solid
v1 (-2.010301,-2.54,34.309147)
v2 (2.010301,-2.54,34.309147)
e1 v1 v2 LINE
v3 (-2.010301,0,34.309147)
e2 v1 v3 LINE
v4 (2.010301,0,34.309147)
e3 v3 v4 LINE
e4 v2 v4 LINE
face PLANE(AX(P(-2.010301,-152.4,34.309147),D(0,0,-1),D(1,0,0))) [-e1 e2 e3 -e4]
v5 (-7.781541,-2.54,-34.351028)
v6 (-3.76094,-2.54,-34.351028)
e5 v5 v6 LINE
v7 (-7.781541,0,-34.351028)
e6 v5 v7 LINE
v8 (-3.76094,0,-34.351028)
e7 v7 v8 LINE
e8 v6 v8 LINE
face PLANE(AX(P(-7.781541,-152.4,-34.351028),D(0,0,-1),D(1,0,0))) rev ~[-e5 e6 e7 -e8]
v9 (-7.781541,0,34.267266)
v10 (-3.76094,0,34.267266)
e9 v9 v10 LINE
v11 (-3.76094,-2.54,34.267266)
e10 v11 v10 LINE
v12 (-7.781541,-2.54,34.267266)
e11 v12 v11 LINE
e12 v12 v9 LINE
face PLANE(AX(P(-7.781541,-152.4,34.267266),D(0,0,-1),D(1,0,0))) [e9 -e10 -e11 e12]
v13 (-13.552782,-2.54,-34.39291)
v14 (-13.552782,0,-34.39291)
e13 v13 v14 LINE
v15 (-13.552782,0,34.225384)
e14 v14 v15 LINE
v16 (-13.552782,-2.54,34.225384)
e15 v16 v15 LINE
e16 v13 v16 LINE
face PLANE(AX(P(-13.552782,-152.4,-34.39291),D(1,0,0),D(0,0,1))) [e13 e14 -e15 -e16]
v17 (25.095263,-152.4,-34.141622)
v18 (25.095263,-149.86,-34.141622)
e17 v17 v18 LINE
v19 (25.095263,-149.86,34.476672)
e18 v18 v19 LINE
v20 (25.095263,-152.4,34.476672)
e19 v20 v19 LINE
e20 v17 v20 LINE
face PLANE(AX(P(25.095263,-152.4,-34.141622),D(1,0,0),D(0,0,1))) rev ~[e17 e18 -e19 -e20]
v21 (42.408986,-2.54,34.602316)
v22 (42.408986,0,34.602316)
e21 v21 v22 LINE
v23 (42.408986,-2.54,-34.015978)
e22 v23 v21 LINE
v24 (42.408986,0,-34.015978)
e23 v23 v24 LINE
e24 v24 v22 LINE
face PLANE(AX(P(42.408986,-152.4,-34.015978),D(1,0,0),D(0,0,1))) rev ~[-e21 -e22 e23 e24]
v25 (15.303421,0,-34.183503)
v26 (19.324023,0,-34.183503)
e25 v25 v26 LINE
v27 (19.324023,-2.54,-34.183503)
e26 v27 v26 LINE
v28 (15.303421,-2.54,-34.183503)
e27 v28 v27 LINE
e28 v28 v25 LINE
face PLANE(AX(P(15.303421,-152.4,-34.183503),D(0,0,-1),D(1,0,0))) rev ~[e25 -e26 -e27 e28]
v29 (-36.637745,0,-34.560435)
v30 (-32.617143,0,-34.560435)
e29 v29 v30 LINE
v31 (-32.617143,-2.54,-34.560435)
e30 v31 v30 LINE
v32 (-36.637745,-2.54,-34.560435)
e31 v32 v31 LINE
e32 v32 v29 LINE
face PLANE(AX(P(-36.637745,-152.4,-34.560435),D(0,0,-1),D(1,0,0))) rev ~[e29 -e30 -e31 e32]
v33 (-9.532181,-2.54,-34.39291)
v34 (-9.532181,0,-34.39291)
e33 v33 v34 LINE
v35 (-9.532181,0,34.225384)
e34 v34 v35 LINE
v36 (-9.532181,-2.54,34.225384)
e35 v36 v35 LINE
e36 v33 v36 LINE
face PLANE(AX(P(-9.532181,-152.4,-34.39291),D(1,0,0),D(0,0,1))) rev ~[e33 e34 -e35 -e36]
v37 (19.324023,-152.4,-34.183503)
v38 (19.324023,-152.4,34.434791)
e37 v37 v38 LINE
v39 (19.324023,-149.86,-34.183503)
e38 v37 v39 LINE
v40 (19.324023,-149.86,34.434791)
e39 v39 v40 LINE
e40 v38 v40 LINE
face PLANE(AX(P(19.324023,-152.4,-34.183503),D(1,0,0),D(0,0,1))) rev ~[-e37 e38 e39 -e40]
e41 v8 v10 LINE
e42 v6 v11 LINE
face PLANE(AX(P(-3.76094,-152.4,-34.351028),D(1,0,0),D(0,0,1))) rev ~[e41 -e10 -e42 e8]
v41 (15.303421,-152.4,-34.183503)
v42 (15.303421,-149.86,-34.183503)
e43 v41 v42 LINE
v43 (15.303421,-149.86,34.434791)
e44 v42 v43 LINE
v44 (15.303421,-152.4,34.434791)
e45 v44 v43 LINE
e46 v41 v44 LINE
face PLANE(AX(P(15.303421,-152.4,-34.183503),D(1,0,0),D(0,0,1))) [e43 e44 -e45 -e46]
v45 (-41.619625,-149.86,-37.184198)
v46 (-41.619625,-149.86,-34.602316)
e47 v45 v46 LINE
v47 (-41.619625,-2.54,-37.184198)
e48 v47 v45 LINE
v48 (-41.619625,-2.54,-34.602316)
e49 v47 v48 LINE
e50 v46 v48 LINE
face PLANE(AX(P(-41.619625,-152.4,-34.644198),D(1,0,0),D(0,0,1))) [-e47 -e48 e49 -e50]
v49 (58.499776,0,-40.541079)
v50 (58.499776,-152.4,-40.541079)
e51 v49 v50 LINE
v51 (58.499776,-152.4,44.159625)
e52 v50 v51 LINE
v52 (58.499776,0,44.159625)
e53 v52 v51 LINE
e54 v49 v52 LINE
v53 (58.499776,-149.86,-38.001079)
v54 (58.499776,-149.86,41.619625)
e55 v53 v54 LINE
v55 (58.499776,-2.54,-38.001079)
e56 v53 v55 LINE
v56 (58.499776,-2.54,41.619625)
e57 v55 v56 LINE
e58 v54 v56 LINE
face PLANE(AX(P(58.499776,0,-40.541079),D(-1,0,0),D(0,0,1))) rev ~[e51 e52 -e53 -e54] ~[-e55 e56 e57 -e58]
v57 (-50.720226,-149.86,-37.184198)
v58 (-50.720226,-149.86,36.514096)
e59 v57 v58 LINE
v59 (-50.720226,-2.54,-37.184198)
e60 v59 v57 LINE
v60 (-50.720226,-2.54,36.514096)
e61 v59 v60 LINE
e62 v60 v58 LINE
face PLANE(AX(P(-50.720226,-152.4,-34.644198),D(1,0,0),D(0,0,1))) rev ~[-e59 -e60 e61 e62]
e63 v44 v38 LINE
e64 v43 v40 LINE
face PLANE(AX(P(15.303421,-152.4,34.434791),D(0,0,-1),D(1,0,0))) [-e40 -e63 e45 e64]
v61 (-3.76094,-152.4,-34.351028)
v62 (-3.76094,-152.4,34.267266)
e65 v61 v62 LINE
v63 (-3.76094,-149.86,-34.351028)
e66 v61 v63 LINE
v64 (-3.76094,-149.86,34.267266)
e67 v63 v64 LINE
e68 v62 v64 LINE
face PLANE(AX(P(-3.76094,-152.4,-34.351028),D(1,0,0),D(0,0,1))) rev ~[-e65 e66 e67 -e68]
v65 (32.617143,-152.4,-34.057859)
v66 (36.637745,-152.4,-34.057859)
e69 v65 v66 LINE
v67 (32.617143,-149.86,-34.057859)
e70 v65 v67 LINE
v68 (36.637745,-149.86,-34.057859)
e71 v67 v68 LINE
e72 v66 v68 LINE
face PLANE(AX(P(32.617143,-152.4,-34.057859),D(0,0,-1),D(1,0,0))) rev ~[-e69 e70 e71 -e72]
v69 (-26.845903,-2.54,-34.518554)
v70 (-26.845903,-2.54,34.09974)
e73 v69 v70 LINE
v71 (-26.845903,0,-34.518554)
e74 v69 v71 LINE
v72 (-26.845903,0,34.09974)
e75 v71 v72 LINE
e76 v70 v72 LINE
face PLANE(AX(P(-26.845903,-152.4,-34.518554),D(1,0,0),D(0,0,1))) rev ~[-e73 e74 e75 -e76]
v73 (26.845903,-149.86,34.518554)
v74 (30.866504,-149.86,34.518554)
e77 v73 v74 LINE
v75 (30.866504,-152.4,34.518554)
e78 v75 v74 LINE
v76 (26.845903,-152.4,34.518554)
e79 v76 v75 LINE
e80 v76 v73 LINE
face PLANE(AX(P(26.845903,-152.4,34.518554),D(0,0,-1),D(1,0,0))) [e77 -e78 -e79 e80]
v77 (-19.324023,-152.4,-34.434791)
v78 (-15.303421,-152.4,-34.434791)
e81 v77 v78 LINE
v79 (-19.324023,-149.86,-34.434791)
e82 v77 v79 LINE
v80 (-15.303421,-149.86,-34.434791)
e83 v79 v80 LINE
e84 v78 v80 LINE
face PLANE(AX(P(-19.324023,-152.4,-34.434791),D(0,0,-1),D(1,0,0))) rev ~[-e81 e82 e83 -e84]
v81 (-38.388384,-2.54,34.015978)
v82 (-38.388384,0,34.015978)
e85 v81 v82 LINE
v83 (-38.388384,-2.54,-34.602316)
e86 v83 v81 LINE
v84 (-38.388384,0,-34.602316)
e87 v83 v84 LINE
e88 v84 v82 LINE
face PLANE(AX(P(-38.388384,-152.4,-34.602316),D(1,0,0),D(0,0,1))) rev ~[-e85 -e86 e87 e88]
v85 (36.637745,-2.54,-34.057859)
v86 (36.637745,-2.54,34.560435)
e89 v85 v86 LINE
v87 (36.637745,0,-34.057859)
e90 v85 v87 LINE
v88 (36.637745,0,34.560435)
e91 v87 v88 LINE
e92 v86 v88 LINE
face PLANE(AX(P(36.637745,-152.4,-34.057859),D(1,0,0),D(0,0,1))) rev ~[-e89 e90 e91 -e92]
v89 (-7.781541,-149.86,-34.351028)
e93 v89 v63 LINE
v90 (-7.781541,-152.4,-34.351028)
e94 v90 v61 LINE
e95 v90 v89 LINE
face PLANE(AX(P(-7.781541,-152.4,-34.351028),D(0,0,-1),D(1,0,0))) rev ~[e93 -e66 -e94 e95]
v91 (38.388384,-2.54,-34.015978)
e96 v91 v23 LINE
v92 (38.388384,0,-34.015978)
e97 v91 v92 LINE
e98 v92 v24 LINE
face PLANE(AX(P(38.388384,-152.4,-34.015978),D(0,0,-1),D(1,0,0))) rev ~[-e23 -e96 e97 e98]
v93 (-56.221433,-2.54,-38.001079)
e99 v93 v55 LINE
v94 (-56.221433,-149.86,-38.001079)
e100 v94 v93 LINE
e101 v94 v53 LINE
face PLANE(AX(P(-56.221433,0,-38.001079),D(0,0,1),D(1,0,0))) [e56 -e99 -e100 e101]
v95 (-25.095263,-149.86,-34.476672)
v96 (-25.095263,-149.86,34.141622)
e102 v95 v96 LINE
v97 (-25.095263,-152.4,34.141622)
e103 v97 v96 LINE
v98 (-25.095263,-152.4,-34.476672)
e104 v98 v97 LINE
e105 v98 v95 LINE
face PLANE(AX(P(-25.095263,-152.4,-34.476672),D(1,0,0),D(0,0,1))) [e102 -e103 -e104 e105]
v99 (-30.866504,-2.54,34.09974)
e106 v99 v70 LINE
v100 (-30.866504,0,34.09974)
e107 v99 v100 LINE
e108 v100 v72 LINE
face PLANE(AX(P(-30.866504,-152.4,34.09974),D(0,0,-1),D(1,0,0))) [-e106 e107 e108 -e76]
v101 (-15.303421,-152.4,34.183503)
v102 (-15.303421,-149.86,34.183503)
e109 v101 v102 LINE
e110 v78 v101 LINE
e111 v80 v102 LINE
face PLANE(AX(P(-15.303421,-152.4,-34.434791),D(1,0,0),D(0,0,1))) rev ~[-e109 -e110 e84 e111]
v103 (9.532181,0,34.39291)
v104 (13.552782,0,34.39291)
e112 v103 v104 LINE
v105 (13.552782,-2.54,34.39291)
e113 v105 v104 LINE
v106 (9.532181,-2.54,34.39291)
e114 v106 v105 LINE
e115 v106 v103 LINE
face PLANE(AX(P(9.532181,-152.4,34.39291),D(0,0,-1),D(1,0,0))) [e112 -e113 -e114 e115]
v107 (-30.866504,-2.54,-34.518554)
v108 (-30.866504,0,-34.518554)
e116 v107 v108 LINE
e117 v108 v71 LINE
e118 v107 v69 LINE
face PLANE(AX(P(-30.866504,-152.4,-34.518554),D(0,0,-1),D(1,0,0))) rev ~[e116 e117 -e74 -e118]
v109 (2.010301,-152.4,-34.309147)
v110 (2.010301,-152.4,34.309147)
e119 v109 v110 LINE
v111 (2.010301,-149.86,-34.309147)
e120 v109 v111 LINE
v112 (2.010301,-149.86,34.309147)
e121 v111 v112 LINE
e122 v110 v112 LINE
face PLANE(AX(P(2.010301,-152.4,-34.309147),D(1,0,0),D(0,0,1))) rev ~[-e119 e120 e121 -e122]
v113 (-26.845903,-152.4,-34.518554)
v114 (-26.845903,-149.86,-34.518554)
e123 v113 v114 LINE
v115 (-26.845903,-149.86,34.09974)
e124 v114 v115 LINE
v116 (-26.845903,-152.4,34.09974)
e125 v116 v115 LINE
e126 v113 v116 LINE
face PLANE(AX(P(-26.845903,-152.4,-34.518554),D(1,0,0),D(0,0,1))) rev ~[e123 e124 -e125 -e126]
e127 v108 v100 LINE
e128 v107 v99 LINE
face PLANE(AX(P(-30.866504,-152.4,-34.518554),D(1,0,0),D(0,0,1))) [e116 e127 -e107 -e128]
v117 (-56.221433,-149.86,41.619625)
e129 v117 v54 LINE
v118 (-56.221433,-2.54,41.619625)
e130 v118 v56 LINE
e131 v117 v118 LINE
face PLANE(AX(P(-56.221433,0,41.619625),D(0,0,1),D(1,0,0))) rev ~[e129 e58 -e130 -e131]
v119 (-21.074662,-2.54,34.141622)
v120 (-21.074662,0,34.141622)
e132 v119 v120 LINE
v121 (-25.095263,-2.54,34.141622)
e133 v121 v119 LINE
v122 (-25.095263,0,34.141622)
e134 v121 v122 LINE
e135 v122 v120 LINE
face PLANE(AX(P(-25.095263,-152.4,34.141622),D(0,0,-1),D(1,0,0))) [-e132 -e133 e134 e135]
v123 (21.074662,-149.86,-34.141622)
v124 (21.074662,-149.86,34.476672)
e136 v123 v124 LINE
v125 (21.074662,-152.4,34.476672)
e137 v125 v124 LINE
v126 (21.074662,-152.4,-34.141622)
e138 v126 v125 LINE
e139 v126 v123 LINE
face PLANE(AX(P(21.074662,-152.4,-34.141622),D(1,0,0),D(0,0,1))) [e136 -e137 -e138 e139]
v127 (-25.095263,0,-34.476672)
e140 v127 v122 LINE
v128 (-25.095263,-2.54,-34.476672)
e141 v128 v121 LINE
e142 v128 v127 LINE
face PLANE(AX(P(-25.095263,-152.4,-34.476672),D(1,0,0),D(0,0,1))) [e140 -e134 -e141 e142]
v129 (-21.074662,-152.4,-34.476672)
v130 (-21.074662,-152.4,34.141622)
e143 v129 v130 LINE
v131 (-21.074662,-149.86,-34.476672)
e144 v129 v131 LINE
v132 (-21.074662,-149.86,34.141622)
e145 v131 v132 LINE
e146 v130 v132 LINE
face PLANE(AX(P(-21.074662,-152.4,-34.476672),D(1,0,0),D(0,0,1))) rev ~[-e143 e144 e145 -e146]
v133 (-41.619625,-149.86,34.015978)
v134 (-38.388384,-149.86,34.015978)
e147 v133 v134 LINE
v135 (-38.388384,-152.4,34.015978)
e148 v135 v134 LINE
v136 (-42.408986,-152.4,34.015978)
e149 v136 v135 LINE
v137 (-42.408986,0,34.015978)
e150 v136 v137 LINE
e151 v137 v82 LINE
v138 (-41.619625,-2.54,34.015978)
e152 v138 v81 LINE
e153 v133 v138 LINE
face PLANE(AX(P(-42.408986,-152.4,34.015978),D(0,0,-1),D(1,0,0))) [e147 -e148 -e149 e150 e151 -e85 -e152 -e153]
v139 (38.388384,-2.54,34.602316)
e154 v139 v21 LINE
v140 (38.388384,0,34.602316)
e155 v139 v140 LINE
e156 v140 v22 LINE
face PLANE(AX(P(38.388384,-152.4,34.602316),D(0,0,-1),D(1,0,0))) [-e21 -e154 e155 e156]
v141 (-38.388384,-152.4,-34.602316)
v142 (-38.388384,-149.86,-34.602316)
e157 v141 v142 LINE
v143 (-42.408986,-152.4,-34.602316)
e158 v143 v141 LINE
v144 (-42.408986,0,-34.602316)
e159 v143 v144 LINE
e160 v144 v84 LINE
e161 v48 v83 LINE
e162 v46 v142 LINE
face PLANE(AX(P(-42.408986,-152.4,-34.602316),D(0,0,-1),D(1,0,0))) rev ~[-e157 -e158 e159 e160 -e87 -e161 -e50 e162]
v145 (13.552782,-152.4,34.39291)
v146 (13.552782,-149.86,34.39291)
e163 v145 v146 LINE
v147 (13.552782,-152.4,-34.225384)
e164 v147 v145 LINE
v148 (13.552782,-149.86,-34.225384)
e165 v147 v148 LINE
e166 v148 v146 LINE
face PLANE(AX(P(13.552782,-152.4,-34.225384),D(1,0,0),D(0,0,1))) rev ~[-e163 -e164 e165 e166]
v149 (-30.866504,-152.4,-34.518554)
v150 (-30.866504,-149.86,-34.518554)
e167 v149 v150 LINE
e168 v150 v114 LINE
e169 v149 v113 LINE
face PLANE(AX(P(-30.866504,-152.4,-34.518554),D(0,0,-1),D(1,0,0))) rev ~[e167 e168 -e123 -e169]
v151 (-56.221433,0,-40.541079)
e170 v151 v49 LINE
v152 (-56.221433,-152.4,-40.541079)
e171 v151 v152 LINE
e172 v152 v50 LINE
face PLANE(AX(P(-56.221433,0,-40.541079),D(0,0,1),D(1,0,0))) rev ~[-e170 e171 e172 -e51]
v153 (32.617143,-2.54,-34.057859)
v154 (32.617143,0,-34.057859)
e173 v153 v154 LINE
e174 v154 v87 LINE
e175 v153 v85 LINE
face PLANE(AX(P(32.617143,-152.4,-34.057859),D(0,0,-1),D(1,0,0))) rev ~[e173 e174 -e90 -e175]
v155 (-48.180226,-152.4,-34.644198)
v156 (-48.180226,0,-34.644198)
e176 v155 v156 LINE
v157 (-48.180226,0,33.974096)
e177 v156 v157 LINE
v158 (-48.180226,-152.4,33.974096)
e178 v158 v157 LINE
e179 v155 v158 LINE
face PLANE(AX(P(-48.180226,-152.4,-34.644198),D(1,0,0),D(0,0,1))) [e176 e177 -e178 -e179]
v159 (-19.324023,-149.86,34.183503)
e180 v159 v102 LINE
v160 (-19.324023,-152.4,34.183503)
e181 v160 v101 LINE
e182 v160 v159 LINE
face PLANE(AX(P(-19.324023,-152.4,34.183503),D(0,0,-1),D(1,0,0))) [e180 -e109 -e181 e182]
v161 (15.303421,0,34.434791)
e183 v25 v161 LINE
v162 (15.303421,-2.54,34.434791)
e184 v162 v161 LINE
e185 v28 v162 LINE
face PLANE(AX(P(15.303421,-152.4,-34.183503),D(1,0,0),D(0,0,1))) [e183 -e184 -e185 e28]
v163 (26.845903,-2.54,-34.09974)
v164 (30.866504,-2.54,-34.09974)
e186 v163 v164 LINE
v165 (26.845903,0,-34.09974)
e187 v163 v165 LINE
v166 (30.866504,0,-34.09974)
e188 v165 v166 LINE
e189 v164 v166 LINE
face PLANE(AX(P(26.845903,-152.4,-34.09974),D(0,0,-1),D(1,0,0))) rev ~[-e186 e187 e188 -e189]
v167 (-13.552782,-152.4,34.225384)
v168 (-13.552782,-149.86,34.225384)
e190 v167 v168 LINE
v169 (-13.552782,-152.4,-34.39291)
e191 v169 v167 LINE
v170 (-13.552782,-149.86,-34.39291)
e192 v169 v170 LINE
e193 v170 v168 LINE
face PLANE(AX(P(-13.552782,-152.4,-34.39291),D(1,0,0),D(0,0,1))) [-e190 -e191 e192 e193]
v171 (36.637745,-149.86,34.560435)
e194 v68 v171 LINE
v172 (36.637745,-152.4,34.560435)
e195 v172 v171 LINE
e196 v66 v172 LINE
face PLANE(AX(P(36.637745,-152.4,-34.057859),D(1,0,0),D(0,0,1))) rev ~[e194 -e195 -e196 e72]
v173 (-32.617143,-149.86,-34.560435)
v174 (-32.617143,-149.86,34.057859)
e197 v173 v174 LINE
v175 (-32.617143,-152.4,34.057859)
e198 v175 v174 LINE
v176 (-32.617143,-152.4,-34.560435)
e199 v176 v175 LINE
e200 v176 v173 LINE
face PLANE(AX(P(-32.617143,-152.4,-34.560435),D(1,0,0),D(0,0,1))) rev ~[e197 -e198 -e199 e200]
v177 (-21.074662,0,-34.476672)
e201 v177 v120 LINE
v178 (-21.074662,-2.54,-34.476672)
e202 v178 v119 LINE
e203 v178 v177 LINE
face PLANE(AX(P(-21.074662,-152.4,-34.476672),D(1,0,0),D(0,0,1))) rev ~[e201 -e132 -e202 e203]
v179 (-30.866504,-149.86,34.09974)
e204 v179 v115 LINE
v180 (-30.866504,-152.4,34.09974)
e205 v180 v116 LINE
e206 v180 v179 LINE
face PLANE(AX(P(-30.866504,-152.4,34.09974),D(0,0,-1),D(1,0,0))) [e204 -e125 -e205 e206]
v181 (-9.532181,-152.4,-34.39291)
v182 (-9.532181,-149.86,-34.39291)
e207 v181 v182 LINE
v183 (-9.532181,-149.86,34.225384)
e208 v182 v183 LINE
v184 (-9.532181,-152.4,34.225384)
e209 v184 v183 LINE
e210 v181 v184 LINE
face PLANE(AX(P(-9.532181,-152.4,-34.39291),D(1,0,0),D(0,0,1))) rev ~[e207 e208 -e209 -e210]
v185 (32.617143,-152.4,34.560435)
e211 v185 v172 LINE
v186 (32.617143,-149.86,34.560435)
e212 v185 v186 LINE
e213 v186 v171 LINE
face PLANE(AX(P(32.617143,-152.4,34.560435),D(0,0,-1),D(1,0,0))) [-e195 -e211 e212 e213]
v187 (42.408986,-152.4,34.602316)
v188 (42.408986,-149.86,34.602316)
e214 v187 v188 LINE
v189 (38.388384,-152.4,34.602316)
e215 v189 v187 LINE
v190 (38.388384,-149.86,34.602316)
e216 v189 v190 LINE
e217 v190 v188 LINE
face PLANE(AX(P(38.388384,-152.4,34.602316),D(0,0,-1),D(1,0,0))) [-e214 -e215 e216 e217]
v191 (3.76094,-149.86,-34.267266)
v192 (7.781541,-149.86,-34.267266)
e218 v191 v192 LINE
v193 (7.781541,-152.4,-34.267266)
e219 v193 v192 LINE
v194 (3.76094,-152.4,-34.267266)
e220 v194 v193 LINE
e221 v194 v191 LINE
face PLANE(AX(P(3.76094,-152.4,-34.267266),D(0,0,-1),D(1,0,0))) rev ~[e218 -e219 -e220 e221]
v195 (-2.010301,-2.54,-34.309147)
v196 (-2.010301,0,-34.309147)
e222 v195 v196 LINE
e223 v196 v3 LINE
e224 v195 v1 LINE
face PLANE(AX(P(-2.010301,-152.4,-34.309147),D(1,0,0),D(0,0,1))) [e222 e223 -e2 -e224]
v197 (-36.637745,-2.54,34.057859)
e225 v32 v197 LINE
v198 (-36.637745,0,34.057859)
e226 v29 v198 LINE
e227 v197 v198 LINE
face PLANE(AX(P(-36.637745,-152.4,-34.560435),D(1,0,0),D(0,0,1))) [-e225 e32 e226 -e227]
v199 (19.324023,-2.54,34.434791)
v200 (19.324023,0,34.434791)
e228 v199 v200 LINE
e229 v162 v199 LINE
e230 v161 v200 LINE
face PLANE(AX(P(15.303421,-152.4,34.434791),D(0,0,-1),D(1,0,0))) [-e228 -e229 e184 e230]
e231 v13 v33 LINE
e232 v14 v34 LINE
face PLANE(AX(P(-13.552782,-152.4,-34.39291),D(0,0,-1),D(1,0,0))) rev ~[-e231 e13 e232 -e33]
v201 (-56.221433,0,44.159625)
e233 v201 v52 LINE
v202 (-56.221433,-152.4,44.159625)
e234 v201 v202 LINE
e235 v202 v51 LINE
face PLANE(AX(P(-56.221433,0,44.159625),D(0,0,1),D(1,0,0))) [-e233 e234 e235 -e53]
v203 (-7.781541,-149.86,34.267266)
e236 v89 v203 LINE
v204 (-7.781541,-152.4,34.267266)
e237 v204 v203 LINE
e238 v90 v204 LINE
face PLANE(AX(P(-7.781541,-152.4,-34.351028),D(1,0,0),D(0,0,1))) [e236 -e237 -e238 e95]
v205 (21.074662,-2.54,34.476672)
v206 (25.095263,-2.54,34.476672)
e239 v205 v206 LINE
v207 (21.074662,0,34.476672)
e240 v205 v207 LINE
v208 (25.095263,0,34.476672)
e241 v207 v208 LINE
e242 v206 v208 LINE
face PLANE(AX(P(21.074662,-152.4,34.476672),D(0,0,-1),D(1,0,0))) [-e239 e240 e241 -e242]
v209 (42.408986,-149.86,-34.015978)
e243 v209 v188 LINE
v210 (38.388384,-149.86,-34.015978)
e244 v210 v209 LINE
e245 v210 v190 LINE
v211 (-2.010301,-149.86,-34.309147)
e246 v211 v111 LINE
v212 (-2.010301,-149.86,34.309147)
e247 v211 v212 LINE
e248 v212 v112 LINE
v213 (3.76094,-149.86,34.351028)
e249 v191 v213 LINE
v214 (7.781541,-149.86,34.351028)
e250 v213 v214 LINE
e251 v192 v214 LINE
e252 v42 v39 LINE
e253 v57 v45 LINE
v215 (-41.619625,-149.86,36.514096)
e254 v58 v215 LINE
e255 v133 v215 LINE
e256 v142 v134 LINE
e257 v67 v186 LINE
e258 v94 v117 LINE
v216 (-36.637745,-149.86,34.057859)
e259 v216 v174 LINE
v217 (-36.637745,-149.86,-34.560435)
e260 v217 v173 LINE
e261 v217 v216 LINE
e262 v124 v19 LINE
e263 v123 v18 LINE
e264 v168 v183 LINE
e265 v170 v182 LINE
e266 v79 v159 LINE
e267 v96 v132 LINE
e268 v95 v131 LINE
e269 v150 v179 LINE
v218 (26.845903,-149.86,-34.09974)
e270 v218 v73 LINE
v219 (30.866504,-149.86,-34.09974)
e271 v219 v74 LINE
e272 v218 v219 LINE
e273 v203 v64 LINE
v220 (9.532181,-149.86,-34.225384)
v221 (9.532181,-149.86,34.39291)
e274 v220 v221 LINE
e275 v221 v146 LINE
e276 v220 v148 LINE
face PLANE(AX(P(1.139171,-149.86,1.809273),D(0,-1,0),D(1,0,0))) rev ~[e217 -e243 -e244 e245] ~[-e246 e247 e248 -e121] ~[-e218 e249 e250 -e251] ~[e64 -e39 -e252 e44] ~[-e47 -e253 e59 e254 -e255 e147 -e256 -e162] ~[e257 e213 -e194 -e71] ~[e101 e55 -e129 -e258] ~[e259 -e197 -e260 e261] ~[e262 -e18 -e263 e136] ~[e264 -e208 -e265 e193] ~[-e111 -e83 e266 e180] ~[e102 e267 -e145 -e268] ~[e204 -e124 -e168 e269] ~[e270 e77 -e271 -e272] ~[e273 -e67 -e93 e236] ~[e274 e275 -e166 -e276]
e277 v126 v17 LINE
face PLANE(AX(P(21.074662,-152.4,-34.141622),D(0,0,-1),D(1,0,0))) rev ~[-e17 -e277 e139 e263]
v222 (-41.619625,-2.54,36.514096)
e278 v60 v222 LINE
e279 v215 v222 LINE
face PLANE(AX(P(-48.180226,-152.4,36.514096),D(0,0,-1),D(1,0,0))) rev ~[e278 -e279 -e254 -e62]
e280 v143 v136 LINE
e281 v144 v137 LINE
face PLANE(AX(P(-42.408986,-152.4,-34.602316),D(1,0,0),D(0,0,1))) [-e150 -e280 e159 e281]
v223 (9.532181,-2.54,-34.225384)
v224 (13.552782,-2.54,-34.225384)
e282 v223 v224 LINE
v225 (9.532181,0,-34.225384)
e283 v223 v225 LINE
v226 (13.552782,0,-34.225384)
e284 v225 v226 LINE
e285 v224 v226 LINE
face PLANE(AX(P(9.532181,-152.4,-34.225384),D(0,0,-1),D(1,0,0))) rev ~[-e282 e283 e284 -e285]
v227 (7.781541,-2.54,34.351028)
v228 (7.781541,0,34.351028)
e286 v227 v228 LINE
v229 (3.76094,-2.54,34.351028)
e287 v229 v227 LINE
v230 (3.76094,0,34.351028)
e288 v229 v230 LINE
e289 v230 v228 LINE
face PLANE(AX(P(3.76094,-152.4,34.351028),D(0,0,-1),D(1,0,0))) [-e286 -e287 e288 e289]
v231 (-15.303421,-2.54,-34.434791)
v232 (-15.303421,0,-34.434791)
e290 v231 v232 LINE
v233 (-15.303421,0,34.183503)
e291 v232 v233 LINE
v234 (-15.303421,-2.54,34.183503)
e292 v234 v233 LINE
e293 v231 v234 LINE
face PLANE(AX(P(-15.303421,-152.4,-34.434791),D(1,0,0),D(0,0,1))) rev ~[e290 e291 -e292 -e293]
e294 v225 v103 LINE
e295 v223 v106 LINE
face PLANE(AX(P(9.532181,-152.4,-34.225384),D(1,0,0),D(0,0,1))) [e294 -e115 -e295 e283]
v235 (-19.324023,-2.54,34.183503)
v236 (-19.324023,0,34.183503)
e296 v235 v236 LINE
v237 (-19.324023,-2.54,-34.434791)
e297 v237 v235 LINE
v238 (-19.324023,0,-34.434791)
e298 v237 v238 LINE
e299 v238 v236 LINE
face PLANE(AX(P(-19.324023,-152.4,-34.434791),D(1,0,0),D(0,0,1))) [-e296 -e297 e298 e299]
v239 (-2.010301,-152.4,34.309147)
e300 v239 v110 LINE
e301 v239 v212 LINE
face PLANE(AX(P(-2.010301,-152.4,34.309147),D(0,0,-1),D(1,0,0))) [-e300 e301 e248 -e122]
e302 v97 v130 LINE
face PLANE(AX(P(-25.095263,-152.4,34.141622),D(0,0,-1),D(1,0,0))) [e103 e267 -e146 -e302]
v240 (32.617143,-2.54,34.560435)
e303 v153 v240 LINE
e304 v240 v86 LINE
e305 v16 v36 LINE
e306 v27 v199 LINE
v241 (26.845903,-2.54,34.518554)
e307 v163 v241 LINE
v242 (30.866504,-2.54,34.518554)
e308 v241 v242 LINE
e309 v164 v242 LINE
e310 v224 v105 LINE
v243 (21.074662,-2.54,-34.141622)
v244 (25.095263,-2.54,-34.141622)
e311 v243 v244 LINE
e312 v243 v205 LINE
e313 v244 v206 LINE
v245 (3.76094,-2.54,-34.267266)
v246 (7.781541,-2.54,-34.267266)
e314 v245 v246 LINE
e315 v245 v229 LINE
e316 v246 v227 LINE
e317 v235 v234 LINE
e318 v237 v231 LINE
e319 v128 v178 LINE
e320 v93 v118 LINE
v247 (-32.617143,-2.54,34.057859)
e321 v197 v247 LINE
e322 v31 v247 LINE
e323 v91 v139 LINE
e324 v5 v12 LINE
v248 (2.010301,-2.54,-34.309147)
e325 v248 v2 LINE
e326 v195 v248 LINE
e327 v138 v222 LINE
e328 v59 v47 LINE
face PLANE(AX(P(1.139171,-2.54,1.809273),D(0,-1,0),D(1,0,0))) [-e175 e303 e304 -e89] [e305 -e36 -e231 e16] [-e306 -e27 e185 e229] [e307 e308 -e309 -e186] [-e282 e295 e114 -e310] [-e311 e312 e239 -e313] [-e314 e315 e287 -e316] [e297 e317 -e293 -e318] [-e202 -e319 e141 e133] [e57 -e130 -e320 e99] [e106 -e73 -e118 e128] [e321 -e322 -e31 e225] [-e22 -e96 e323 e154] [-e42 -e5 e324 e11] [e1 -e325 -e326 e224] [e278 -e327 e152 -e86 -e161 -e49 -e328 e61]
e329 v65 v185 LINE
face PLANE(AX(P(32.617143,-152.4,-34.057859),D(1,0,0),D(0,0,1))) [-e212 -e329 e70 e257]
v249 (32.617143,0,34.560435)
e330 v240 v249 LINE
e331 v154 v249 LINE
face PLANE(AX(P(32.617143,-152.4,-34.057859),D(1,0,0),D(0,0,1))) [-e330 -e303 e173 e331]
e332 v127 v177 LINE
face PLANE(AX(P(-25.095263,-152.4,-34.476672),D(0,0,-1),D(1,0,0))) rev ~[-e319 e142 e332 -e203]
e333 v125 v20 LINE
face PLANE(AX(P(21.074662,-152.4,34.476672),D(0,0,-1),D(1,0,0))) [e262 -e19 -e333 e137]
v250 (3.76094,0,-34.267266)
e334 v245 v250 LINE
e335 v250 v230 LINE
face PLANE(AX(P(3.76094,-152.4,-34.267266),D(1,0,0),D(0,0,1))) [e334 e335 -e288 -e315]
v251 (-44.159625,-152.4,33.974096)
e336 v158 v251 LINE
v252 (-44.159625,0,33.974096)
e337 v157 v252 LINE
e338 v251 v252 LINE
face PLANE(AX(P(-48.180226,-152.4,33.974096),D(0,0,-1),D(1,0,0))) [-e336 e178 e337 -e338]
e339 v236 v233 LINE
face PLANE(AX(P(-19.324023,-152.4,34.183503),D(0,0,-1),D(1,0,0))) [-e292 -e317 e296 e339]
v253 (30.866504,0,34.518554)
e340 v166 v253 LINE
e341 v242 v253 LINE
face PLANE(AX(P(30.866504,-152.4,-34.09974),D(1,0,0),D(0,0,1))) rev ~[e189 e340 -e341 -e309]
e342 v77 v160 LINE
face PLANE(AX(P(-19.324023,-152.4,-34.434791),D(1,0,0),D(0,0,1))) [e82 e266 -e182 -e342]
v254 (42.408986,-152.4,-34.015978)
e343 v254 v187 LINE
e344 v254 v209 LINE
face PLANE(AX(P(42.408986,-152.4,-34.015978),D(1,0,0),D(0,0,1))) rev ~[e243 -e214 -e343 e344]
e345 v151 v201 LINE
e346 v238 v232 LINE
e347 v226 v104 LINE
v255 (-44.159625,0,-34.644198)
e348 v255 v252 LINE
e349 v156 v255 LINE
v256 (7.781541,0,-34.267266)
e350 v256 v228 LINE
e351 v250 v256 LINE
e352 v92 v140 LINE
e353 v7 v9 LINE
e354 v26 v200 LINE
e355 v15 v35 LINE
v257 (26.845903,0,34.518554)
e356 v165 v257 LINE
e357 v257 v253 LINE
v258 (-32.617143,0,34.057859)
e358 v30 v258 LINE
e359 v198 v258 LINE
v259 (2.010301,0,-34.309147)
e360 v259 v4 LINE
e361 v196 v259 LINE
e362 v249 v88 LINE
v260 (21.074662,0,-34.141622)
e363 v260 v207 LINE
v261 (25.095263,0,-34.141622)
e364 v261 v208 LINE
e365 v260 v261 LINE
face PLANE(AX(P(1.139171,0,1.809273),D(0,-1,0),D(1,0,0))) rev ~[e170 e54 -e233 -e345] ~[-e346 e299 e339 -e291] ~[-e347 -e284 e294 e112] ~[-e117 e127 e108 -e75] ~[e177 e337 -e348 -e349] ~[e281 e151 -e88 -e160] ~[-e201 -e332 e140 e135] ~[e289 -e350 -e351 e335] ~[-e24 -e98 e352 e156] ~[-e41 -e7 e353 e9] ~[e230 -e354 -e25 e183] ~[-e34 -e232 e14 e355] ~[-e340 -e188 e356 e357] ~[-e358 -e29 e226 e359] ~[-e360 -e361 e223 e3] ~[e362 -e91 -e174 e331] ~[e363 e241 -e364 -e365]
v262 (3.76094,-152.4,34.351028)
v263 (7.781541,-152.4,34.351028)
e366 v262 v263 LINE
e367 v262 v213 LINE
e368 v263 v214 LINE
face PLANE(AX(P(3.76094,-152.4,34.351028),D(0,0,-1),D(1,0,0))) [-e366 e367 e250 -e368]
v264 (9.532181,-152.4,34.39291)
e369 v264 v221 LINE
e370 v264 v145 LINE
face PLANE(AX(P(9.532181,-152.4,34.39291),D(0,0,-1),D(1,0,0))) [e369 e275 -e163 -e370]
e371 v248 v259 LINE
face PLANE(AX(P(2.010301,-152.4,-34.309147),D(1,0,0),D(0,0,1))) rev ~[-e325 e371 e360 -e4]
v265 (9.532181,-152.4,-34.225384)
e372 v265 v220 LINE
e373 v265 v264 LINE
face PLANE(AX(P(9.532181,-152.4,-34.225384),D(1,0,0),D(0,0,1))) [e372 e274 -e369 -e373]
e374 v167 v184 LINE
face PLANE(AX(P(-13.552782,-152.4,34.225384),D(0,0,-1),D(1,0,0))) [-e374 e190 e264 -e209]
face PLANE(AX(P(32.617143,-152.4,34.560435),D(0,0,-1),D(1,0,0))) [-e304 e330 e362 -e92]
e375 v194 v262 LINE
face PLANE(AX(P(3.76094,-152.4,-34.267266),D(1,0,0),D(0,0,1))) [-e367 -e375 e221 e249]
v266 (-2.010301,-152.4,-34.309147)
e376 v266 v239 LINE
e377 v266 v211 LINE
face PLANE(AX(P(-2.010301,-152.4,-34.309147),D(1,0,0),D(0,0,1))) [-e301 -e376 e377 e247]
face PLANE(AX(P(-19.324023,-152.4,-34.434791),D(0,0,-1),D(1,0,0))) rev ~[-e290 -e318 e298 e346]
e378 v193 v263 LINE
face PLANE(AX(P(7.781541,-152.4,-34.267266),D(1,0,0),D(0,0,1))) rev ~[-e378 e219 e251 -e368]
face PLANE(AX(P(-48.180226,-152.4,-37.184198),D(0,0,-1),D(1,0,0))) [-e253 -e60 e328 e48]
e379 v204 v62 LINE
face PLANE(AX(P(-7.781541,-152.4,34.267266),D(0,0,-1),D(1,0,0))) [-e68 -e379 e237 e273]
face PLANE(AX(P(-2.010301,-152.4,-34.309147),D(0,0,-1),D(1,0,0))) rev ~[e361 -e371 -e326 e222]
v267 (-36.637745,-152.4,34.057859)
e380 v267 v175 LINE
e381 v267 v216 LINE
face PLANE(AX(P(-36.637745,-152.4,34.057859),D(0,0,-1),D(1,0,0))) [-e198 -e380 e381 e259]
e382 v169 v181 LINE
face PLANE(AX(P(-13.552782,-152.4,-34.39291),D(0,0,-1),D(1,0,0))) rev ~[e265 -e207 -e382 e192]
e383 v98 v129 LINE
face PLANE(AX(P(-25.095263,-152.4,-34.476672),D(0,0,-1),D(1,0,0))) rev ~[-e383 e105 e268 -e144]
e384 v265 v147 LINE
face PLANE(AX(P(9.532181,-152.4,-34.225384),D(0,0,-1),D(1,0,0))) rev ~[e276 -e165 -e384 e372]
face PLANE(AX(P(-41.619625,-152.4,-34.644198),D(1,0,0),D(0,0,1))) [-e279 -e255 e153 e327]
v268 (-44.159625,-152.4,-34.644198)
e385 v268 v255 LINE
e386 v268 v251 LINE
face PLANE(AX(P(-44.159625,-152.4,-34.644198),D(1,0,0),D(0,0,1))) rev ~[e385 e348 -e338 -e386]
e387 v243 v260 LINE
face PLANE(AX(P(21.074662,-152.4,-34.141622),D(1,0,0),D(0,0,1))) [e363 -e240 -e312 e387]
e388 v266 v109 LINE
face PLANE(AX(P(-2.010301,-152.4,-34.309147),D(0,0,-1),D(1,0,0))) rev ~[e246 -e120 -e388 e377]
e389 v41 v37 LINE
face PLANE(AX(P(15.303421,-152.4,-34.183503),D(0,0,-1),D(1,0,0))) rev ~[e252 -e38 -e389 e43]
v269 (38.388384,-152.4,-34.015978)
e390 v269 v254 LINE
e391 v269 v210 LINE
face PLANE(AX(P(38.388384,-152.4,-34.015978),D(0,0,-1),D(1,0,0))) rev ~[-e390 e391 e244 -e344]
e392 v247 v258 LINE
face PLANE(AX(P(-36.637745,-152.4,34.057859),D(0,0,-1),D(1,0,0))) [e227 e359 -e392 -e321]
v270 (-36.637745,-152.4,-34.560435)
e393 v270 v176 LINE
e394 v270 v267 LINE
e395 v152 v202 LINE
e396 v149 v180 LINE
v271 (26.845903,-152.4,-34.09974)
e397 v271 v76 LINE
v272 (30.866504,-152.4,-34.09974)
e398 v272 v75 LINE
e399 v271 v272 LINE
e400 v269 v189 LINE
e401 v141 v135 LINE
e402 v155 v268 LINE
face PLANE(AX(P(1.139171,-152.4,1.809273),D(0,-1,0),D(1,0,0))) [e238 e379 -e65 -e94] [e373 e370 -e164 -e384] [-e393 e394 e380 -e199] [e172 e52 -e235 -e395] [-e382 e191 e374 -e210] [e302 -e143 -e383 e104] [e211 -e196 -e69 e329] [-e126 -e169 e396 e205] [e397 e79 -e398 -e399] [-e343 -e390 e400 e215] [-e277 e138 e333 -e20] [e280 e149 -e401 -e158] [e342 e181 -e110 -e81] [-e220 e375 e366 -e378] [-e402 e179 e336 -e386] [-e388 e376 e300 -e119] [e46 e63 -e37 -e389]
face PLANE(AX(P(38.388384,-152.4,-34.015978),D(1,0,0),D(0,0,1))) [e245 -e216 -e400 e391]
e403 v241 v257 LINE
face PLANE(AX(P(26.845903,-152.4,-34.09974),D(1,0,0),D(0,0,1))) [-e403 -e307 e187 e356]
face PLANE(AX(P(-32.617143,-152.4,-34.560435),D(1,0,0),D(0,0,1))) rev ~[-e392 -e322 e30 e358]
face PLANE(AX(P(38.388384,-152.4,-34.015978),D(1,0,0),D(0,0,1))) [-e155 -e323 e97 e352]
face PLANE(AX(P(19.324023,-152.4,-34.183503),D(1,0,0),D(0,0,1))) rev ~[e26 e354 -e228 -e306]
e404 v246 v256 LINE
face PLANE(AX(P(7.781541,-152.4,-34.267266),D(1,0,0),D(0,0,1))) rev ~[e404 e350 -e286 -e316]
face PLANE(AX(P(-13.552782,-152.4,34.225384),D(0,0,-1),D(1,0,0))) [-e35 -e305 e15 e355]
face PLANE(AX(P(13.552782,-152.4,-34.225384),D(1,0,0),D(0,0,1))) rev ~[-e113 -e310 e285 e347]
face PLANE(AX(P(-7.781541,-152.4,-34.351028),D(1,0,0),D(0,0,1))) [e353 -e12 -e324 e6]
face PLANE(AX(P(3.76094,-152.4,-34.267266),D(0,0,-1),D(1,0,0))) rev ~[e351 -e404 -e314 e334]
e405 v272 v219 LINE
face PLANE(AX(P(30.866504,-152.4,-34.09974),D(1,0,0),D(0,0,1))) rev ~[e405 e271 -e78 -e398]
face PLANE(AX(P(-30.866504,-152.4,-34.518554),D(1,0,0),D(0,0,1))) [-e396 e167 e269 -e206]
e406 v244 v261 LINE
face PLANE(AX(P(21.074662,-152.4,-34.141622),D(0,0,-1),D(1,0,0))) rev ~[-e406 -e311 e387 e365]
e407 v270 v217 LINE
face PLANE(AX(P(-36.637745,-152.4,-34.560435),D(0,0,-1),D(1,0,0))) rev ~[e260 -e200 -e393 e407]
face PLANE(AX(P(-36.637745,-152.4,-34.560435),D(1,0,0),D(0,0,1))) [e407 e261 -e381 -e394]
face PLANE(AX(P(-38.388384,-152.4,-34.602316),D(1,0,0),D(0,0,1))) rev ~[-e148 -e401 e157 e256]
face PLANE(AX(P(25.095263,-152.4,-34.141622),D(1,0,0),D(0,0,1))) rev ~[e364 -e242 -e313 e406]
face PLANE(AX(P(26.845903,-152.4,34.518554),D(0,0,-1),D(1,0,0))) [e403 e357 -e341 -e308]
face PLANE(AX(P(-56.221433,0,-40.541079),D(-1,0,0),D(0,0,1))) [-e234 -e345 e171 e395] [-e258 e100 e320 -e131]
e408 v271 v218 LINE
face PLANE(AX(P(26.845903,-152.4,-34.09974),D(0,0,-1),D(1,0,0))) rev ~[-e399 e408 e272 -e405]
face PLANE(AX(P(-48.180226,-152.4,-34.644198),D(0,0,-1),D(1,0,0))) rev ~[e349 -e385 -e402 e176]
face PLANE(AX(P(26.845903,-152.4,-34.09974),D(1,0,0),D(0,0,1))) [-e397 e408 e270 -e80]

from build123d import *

# Parameters (mm, degrees)
F0_W     = 114.7212088108
F0_H     = 84.7007036209
F1_DEPTH = 152.4
F2_W     = 4.020601511
F2_H     = 68.6182938516
F3_DEPTH = 152.4
F4_T     = -2.54
F5_DEPTH = 152.401
F6_DEPTH = 152.401
F7_DEPTH = 152.401
F8_DEPTH = 152.401


with BuildPart() as f1:
    # F0 (on Front) → F1 (new body)
    with BuildSketch(Plane.XZ):
        with Locations((1.1391714215, 1.8092729151)):
            Rectangle(F0_W, F0_H)
    extrude(amount=F1_DEPTH)

    # F2 (on face) → F3 (cut)
    with BuildSketch(Plane.XZ.offset(152.4)):
        with Locations((-46.1699254811, -0.3350507468)):
            Rectangle(F2_W, F2_H)
    extrude(amount=-F3_DEPTH, mode=Mode.SUBTRACT)

    # F4
    f4_openings = [f1.faces().sort_by_distance(p)[0] for p in [
        (-56.221433, -76.2, 1.809273),
        (58.499776, -76.2, 1.809273),
    ]]
    offset(amount=F4_T, openings=f4_openings, kind=Kind.INTERSECTION)

    # F2 (on face) → F5 (cut, through all)
    with BuildSketch(Plane.XZ.offset(152.4)):
        Rectangle(F2_W, F2_H)
    extrude(amount=-F5_DEPTH, mode=Mode.SUBTRACT)

    # F2 (on face) → F6 (cut, through all)
    with BuildSketch(Plane.XZ.offset(152.4)):
        with Locations((-23.0849627405, -0.1675253734)):
            Rectangle(F2_W, F2_H)
        with Locations((23.0849627405, 0.1675253734)):
            Rectangle(F2_W, F2_H)
    extrude(amount=-F6_DEPTH, mode=Mode.SUBTRACT)

    # F2 (on face) → F7 (cut, through all)
    with BuildSketch(Plane.XZ.offset(152.4)):
        with Locations((-34.6274441108, -0.2512880601)):
            Rectangle(F2_W, F2_H)
        with Locations((-11.5424813703, -0.0837626867)):
            Rectangle(F2_W, F2_H)
        with Locations((11.5424813703, 0.0837626867)):
            Rectangle(F2_W, F2_H)
        with Locations((34.6274441108, 0.2512880601)):
            Rectangle(F2_W, F2_H)
    extrude(amount=-F7_DEPTH, mode=Mode.SUBTRACT)

    # F2 (on face) → F8 (cut, through all)
    with BuildSketch(Plane.XZ.offset(152.4)):
        with Locations((-40.3986847959, -0.2931694034)):
            Rectangle(F2_W, F2_H)
        with Locations((-28.8562034257, -0.2094067167)):
            Rectangle(F2_W, F2_H)
        with Locations((-17.3137220554, -0.12564403)):
            Rectangle(F2_W, F2_H)
        with Locations((-5.7712406851, -0.0418813433)):
            Rectangle(F2_W, F2_H)
        with Locations((5.7712406851, 0.0418813433)):
            Rectangle(F2_W, F2_H)
        with Locations((17.3137220554, 0.12564403)):
            Rectangle(F2_W, F2_H)
        with Locations((28.8562034257, 0.2094067167)):
            Rectangle(F2_W, F2_H)
        with Locations((40.3986847959, 0.2931694034)):
            Rectangle(F2_W, F2_H)
    extrude(amount=-F8_DEPTH, mode=Mode.SUBTRACT)


solid = f1.part
